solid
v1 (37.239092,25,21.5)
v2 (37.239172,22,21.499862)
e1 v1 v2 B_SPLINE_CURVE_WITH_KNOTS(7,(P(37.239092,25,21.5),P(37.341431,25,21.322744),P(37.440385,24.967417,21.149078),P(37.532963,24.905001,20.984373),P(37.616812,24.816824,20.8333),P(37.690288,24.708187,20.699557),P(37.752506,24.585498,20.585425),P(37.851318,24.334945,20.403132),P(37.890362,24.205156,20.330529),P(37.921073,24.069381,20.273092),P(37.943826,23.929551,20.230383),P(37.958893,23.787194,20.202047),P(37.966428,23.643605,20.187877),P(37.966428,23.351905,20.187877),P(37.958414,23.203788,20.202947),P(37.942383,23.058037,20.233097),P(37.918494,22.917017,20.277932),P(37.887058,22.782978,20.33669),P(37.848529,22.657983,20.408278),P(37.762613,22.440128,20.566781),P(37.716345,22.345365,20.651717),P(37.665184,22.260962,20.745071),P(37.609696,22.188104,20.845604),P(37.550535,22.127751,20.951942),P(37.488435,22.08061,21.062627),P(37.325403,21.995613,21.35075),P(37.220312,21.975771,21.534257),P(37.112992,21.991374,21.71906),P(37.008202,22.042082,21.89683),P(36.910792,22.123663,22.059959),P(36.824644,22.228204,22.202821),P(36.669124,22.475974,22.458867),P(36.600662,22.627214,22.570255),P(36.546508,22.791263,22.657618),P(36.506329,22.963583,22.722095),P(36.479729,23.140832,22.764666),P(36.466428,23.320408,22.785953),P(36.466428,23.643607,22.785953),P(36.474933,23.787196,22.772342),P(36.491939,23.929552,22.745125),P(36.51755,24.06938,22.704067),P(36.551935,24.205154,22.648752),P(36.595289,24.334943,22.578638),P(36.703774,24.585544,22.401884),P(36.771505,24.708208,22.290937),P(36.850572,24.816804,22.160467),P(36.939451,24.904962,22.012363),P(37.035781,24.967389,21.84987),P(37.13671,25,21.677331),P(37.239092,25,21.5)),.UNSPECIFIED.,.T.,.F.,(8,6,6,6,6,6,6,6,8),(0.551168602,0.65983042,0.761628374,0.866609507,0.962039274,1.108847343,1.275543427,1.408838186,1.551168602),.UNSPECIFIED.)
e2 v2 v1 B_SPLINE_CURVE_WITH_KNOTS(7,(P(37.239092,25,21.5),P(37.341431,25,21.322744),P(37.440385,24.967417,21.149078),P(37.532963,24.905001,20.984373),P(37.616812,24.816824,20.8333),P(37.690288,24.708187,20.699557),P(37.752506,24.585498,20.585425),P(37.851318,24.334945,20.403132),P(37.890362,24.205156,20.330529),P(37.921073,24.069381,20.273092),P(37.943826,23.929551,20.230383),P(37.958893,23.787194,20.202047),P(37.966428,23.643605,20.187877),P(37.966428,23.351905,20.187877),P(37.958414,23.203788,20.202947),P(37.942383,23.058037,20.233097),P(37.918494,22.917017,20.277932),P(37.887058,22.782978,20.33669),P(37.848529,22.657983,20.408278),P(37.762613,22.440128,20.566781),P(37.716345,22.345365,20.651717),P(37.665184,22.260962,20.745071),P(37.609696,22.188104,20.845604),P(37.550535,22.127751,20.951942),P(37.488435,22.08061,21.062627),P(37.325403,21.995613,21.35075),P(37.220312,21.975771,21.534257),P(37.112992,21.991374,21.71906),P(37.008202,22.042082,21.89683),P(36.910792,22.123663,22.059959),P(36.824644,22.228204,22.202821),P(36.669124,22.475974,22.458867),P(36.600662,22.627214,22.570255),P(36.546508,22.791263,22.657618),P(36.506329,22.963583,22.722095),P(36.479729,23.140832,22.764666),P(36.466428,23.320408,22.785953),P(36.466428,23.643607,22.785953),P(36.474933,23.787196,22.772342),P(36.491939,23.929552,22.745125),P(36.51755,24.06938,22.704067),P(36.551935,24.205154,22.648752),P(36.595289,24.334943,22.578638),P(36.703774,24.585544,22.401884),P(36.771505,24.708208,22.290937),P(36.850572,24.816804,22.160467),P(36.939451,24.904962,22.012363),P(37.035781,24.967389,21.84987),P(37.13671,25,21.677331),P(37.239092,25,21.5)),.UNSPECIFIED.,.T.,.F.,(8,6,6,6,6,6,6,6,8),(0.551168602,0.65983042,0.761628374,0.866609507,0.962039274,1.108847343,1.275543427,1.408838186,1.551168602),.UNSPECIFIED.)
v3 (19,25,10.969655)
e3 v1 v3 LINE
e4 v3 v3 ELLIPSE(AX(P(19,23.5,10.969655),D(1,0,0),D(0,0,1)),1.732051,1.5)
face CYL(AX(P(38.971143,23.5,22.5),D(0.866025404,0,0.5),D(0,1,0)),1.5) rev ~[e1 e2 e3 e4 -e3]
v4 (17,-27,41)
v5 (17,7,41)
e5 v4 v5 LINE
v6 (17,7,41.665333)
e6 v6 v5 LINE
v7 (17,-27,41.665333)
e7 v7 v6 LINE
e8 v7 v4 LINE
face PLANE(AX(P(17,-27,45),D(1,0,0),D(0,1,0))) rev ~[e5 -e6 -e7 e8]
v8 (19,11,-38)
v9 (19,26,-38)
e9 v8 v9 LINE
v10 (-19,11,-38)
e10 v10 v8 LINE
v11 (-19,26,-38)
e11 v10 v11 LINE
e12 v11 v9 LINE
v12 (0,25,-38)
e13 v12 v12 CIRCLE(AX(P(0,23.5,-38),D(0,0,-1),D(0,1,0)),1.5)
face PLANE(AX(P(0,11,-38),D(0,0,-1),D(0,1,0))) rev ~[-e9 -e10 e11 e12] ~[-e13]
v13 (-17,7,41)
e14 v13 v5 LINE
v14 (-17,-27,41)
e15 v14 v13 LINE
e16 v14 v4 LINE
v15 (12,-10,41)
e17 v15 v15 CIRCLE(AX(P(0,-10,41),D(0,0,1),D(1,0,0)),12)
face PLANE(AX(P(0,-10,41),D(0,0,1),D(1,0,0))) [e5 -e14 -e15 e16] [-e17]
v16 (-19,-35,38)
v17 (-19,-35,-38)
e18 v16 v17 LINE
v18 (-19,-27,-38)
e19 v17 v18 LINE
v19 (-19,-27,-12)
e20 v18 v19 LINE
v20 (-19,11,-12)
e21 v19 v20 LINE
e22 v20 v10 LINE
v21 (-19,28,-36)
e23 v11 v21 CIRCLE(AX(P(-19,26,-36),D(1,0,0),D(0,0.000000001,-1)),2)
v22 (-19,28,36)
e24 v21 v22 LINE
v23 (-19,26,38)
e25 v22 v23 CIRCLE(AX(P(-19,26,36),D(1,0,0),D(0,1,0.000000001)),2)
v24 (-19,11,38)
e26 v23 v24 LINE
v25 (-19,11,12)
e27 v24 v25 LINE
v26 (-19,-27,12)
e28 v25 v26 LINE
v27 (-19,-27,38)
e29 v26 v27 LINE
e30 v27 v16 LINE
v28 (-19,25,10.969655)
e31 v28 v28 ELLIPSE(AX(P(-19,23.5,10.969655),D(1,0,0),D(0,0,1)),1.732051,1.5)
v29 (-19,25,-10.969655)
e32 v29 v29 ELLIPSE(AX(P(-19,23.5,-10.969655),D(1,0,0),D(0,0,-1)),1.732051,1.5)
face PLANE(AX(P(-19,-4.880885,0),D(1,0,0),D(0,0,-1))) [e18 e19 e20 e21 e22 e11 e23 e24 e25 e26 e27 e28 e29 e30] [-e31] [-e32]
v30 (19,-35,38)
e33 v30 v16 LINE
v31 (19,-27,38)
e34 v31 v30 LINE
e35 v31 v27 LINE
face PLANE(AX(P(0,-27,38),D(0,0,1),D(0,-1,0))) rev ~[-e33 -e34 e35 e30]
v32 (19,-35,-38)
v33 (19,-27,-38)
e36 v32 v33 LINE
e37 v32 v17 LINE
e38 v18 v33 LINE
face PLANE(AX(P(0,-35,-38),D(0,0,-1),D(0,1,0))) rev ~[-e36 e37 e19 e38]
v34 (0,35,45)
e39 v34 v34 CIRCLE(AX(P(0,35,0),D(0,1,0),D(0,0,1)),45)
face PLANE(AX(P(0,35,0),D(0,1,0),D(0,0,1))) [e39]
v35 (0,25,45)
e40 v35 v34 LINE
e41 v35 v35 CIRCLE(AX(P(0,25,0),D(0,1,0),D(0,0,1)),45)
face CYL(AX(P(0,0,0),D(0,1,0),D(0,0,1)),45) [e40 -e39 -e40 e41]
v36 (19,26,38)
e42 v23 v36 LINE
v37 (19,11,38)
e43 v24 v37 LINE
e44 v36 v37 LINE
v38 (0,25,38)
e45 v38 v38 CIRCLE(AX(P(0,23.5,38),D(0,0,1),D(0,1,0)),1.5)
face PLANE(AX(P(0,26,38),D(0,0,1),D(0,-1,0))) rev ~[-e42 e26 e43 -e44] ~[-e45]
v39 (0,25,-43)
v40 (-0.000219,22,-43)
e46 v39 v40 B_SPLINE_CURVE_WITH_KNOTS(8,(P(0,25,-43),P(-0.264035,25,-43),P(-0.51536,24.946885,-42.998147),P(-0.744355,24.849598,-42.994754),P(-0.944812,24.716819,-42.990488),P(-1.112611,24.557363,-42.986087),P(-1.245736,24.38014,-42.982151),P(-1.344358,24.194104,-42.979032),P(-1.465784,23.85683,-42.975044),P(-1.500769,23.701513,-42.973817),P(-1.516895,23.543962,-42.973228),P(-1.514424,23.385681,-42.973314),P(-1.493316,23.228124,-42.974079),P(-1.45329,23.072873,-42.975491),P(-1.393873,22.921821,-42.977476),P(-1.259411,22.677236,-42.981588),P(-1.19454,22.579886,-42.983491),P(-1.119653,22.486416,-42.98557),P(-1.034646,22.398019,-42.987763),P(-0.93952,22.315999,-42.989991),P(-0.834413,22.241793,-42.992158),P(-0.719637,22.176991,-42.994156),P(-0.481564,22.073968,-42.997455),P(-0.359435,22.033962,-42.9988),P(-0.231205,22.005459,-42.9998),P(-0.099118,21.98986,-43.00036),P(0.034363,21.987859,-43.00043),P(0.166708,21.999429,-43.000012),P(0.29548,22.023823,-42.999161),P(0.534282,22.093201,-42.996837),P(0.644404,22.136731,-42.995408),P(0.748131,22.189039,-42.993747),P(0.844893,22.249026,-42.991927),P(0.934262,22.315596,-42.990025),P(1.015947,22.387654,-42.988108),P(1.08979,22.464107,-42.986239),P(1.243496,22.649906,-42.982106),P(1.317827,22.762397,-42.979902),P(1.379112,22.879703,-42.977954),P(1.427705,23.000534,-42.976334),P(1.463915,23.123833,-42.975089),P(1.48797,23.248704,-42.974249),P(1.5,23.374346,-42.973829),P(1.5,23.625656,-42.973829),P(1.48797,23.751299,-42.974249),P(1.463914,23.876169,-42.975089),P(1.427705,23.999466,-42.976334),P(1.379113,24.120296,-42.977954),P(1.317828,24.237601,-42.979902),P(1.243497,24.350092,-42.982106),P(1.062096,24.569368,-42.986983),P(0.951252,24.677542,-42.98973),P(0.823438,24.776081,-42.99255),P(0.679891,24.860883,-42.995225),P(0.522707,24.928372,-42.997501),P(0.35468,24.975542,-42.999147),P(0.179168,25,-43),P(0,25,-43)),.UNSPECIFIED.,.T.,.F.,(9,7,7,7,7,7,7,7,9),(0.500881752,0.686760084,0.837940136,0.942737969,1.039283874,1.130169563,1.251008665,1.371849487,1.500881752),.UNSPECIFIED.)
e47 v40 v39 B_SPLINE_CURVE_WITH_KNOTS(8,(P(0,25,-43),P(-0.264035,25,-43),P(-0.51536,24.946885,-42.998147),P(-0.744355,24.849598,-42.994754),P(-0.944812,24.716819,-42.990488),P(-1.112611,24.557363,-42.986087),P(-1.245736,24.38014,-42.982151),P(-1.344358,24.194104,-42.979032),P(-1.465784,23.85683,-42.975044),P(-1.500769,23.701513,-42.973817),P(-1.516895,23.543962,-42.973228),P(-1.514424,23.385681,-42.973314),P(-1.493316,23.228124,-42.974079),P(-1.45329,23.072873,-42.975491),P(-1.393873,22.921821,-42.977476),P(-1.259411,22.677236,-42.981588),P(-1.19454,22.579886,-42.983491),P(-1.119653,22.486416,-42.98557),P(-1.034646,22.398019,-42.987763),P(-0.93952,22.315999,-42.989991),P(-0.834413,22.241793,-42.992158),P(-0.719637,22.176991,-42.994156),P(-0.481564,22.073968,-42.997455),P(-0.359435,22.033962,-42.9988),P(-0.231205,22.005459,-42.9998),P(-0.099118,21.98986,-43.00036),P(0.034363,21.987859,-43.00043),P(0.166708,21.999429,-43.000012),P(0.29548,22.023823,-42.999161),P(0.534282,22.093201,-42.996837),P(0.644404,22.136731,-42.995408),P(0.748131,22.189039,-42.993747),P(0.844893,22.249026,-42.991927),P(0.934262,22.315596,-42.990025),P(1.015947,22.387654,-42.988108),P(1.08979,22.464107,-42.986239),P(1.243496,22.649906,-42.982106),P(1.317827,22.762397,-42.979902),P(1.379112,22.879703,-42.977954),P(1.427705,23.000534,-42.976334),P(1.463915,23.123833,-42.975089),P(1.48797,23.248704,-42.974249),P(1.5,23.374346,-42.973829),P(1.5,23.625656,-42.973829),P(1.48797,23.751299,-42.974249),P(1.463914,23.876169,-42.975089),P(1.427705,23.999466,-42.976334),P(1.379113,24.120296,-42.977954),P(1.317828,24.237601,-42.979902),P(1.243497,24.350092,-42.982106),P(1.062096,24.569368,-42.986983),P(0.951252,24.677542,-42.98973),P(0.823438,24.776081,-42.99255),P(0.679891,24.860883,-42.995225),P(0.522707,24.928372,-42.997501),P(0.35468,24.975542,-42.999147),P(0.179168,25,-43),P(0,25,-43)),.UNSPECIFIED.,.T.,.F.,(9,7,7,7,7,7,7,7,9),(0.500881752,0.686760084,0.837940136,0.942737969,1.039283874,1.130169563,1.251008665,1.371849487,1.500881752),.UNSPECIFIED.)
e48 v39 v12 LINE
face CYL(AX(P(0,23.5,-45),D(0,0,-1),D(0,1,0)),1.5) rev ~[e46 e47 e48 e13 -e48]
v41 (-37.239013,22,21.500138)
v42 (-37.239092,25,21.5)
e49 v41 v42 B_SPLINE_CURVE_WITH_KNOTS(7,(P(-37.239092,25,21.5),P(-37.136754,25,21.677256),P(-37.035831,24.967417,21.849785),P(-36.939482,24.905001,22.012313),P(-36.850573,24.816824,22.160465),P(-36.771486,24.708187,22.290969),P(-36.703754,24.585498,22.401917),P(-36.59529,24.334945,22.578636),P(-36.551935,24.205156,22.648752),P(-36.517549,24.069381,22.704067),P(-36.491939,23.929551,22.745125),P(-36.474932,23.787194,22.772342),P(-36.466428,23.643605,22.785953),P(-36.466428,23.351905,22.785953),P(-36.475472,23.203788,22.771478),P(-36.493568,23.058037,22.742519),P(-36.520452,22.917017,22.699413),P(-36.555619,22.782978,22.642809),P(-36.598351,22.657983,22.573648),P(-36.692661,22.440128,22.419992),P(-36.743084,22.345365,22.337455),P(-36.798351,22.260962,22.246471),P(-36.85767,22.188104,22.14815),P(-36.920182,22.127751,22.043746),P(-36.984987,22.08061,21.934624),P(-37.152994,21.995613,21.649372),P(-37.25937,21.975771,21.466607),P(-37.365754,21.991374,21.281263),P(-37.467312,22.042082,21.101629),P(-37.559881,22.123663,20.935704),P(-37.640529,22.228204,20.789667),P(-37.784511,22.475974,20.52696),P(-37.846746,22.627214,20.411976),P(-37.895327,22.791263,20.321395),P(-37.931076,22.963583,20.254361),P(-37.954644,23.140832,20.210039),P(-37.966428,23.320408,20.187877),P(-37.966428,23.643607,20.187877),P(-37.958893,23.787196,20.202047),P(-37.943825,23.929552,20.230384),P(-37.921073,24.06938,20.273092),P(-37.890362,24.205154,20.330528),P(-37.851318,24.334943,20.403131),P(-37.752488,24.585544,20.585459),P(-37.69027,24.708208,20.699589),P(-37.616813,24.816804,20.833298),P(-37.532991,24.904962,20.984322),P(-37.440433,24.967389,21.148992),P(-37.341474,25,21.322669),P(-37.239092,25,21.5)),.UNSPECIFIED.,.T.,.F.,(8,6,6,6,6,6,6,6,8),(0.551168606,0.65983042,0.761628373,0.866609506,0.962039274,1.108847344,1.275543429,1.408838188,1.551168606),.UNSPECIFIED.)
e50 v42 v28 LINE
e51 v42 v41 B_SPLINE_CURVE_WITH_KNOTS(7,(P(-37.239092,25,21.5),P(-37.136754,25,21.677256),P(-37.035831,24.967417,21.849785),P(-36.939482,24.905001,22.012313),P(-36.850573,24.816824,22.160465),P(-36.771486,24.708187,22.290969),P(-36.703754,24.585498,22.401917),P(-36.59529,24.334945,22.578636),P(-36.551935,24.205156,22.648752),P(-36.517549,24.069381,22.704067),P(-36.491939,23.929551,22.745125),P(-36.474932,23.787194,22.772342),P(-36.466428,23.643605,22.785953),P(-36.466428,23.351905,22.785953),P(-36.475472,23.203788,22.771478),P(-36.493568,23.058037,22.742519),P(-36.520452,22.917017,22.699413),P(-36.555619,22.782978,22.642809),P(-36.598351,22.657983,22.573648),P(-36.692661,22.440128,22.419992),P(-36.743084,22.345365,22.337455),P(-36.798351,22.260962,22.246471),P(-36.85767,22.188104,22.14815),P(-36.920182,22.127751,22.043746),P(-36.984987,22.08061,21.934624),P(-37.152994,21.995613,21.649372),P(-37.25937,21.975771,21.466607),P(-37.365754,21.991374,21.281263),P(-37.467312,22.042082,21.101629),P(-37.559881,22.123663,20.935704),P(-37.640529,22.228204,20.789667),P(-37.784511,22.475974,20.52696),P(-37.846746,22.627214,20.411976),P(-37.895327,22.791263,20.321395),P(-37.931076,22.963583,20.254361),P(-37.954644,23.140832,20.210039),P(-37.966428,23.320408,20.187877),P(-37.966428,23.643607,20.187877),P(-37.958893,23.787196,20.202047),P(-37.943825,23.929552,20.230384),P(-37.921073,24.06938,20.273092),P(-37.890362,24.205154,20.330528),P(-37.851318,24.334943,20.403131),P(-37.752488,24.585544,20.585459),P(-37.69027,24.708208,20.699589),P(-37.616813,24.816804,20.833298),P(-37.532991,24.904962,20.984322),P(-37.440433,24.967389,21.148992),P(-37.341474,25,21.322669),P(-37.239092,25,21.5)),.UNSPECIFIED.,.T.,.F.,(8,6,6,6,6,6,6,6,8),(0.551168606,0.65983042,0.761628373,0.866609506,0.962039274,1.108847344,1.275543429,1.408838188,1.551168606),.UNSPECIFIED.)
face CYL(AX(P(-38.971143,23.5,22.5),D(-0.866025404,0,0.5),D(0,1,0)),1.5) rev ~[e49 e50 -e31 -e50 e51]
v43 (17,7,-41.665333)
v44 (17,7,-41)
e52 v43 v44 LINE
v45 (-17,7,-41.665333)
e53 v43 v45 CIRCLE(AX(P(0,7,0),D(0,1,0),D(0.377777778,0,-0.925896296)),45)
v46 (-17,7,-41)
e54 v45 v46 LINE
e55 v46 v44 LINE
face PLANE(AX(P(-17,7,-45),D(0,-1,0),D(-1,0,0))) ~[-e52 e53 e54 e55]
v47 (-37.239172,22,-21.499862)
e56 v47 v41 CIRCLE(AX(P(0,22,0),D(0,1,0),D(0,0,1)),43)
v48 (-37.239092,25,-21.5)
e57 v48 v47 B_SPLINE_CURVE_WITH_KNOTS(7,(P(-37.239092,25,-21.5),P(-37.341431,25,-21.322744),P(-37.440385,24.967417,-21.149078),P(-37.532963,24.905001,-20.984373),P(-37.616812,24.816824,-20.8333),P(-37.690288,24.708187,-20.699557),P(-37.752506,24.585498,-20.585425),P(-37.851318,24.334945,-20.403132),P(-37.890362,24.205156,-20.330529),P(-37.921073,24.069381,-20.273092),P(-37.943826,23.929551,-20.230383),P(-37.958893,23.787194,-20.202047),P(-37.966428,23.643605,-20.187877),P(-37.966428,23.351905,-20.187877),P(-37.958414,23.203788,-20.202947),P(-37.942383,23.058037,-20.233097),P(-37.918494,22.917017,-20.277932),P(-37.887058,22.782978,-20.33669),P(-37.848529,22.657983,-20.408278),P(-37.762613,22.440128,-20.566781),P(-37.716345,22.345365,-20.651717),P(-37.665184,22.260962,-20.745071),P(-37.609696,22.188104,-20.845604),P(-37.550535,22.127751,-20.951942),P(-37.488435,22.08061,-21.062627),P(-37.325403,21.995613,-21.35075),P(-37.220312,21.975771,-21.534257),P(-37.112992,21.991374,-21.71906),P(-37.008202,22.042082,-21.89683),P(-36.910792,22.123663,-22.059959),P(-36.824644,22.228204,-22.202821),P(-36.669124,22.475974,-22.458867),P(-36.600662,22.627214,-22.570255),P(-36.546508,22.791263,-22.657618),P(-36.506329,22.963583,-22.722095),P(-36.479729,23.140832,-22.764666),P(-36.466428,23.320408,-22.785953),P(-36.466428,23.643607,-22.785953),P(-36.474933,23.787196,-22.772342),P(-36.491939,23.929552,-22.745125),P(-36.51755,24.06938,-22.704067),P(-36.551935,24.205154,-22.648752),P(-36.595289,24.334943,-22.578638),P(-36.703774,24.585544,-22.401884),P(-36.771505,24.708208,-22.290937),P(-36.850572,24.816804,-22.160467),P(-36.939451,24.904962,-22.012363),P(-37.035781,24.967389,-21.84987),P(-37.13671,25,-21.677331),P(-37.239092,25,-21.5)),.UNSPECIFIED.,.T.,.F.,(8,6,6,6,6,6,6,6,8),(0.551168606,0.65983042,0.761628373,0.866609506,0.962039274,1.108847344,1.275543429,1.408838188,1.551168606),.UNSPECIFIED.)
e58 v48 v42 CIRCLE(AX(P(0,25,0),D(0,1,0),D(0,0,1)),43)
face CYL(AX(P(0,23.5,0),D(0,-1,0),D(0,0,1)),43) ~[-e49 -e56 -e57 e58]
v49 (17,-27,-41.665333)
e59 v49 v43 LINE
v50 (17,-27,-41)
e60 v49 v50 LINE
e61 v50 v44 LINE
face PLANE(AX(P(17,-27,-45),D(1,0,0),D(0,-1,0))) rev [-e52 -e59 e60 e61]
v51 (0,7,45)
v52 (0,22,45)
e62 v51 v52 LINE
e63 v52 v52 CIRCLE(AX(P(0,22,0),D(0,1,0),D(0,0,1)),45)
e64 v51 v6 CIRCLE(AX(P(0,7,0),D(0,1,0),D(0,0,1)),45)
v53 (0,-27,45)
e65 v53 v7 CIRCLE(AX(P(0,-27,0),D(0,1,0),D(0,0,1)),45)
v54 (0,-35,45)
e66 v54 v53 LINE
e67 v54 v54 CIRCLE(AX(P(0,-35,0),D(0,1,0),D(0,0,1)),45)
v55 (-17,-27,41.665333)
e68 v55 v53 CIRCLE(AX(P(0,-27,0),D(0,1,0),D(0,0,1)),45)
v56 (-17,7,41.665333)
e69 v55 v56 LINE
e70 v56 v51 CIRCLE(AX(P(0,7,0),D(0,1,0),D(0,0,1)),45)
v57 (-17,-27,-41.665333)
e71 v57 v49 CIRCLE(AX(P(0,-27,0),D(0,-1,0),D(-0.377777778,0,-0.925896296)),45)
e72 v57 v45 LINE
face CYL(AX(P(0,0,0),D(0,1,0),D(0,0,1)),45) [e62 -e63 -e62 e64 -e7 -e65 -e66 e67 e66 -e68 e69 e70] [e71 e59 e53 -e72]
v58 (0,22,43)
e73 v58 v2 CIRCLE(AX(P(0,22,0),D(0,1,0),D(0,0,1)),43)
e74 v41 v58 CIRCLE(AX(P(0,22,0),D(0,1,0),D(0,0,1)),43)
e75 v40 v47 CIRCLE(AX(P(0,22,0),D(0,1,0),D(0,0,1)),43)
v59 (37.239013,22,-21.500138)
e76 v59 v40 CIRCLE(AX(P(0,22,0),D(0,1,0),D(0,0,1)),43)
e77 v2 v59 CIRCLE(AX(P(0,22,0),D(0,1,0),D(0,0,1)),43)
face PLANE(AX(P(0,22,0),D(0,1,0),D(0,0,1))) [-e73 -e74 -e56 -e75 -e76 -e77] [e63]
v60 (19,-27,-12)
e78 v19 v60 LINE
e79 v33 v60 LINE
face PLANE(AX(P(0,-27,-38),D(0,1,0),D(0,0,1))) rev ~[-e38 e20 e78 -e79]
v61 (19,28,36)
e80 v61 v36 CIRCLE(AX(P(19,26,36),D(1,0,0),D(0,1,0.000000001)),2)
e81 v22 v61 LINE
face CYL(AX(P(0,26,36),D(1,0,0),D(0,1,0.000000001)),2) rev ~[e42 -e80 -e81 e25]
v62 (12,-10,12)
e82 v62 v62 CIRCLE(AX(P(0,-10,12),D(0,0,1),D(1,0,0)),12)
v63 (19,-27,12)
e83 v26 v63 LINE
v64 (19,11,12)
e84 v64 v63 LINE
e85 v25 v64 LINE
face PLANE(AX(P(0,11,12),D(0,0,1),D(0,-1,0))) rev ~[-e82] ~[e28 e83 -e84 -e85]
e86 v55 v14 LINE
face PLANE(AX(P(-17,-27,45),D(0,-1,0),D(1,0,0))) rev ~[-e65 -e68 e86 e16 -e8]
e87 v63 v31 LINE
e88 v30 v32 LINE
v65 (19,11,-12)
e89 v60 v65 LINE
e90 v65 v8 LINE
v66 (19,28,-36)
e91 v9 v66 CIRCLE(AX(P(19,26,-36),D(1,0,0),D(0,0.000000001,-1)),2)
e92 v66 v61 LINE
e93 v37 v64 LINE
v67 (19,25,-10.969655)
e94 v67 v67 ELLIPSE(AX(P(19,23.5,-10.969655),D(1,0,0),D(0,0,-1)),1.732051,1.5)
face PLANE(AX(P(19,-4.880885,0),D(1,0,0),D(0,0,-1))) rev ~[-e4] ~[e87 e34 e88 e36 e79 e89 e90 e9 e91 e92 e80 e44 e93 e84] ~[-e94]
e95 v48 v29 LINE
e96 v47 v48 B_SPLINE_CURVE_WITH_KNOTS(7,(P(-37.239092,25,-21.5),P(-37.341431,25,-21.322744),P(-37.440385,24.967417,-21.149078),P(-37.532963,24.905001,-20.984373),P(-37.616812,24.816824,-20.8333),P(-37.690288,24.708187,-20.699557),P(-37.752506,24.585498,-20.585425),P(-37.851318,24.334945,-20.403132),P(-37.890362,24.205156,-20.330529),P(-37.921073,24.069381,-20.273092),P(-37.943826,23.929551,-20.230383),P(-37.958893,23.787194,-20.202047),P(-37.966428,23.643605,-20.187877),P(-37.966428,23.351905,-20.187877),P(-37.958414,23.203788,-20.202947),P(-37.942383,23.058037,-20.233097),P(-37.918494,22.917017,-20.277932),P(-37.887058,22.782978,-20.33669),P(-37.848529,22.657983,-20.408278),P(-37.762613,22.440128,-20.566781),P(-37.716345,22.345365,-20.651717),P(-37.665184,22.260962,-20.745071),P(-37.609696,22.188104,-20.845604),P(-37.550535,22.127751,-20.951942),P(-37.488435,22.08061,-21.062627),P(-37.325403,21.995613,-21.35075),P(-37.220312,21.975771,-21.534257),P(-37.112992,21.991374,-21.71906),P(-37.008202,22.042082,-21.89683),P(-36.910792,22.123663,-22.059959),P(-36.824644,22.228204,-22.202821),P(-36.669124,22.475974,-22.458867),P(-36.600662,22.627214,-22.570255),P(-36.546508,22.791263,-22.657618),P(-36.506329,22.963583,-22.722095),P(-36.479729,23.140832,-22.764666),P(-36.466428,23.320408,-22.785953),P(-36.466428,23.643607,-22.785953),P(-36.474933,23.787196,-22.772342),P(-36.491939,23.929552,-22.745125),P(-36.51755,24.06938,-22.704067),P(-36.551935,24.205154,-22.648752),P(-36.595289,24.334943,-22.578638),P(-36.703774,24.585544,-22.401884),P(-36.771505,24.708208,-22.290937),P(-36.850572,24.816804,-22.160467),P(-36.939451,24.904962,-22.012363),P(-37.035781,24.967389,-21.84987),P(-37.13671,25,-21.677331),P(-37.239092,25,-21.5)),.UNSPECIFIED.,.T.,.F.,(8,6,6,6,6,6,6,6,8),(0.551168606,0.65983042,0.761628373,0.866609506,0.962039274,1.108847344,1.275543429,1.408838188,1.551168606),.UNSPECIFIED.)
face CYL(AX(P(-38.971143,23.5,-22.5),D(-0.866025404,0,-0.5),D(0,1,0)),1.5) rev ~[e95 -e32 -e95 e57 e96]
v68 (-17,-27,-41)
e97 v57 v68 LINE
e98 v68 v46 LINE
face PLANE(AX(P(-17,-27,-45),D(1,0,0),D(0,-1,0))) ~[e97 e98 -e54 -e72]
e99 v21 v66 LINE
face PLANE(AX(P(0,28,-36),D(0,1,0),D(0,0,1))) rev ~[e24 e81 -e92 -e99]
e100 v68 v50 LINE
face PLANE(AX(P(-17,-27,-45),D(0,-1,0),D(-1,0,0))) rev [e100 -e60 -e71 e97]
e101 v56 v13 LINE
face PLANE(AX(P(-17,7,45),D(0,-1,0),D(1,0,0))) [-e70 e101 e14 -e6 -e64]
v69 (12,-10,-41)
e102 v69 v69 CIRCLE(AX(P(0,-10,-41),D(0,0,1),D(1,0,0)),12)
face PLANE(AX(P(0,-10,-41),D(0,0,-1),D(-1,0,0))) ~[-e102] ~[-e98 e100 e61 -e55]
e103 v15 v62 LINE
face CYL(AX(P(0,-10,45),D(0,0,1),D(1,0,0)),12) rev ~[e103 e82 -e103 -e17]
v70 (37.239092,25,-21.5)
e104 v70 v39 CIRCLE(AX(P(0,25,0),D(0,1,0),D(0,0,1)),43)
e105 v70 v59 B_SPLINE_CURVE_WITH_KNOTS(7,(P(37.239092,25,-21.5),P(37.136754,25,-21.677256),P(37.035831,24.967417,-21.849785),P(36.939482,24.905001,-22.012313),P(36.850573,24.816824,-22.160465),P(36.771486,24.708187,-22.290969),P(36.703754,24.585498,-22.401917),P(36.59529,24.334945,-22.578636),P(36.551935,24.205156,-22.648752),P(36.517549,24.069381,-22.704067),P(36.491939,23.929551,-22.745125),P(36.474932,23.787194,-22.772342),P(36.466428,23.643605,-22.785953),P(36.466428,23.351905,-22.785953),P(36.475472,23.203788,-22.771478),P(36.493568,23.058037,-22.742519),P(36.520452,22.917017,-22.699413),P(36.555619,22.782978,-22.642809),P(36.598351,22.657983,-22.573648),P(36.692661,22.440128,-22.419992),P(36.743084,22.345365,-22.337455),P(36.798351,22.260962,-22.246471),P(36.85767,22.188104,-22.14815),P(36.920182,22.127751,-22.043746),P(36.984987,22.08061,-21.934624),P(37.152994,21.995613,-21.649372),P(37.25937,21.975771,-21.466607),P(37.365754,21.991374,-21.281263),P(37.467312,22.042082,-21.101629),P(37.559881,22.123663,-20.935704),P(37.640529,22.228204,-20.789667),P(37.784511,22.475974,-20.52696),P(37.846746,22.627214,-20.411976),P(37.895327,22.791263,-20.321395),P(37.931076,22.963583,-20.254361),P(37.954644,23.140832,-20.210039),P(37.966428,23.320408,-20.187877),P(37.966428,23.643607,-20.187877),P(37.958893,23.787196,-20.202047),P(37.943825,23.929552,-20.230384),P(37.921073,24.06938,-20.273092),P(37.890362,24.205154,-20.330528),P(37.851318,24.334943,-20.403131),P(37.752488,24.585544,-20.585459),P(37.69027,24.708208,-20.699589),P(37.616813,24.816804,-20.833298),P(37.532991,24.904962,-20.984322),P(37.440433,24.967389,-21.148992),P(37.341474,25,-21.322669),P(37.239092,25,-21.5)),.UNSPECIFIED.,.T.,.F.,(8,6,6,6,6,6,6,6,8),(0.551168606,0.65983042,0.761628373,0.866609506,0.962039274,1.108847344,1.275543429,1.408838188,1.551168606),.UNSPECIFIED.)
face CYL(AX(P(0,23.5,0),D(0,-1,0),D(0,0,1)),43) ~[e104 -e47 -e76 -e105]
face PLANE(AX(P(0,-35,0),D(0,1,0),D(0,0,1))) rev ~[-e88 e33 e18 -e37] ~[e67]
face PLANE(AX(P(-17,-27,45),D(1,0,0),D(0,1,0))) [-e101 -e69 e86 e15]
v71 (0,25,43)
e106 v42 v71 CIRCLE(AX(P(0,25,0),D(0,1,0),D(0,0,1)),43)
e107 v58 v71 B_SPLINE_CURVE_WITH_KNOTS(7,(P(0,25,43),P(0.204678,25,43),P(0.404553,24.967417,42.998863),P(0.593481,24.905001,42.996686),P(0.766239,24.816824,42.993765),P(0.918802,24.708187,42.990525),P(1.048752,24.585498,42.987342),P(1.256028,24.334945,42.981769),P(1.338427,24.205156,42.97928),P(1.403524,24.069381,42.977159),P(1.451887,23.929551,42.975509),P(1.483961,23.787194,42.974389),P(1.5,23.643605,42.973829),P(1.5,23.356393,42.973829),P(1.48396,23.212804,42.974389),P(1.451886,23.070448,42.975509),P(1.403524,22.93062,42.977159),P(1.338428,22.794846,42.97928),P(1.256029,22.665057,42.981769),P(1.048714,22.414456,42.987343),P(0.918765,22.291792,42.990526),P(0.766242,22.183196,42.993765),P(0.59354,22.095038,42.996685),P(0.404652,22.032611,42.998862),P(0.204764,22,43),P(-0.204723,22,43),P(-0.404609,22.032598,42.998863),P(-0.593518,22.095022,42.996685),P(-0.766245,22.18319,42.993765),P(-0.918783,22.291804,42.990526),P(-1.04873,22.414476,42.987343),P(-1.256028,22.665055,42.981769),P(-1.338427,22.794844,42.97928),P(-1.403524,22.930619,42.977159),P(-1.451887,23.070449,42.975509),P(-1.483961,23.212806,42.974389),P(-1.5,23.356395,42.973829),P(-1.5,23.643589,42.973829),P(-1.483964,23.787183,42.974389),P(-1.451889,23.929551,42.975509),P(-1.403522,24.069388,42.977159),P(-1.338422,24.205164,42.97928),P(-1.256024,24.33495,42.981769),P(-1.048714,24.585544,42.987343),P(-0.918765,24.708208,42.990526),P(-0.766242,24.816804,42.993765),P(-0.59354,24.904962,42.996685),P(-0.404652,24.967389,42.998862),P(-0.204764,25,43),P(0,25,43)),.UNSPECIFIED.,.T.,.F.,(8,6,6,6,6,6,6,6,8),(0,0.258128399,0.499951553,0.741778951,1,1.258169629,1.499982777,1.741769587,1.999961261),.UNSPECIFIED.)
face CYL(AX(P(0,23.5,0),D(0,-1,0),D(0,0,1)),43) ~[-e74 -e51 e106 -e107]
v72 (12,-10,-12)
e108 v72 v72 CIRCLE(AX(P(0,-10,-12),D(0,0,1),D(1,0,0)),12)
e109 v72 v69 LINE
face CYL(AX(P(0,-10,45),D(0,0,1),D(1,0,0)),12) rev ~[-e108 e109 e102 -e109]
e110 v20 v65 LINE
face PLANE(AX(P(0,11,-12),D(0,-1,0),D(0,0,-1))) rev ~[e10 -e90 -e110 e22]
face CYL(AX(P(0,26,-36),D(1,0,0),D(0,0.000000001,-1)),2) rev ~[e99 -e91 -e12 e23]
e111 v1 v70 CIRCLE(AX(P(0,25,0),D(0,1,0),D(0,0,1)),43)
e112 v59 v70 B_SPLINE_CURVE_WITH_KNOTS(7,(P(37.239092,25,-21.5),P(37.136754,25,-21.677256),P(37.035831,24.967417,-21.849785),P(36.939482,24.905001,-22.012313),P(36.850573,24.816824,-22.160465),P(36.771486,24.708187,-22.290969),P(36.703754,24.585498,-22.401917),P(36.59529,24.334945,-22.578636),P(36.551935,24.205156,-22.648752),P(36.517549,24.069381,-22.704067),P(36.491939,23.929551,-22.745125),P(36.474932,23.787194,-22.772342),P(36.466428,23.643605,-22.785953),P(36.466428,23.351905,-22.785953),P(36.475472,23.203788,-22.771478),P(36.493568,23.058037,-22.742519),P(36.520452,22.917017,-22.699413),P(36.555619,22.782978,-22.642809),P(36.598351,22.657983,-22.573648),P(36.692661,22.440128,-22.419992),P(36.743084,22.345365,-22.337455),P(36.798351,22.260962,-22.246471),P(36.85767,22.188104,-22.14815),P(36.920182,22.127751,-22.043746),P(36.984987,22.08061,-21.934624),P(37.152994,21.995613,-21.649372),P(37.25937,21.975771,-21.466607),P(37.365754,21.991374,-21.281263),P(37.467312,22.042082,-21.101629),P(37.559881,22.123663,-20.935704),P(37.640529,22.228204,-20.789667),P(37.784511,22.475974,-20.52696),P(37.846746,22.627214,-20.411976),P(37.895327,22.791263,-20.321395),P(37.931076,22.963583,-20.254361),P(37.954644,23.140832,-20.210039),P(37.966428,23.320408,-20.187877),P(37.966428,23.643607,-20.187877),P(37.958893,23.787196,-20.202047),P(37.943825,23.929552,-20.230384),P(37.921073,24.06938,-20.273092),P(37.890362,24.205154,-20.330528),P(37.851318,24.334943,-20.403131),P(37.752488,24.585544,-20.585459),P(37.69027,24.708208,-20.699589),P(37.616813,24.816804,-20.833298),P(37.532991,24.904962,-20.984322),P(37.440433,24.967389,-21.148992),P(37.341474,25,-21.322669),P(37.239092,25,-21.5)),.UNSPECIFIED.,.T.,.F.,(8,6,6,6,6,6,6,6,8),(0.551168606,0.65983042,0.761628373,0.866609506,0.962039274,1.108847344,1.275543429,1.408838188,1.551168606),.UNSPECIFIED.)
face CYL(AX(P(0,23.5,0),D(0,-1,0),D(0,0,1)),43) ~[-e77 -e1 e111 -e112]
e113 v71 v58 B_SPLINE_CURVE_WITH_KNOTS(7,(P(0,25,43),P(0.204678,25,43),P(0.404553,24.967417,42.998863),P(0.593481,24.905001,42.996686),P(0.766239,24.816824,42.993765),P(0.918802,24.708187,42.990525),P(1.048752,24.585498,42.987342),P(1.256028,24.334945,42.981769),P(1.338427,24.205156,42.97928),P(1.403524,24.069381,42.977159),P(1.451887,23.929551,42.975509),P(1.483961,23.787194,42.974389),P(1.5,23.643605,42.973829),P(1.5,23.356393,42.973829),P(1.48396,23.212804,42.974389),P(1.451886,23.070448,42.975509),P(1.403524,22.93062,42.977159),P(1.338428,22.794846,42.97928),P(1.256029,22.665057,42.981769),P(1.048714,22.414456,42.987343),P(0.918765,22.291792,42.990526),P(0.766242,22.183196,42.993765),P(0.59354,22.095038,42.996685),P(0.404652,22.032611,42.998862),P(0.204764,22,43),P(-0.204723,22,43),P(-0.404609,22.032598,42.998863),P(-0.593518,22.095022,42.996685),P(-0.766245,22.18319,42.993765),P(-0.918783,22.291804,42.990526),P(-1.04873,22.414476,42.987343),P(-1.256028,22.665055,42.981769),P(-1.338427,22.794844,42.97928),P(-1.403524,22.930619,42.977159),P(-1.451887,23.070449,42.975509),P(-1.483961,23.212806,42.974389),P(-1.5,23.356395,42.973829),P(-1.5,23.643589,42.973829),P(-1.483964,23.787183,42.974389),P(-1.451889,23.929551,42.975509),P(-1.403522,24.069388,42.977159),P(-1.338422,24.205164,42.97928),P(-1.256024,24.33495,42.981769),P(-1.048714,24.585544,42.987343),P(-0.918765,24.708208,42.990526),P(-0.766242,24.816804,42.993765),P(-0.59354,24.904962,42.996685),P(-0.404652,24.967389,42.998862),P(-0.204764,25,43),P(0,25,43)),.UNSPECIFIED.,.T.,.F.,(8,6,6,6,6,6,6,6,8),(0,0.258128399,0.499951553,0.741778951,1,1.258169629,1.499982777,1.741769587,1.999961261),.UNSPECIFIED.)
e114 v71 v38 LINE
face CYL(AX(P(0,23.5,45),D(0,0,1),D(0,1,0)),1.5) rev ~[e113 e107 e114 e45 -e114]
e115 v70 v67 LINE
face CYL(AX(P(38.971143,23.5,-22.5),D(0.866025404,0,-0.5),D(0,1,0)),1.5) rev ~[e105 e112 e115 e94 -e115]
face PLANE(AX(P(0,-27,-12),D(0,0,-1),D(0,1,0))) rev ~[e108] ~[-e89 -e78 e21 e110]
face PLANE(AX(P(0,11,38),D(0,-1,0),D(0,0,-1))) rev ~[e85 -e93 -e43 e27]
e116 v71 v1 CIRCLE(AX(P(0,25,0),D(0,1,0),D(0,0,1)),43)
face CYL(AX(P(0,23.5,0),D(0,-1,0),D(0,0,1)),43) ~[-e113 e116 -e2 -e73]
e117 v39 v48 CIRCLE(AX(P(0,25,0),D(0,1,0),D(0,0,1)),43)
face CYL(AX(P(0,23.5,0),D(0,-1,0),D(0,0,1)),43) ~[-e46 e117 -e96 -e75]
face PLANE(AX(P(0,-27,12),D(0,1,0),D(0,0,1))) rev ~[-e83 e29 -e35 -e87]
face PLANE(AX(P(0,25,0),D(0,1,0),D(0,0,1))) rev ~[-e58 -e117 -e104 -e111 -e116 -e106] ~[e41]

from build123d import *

# Parameters (mm, degrees)
IZIM1_R                     = 45
Y_KSEKLIK_EKSTR_ZYON1_DEPTH = 35
IZIM2_W                     = 34
IZIM2_H                     = 34
KES_EKSTR_ZYON1_DEPTH       = 4
IZIM5_R                     = 12
KES_EKSTR_ZYON2_DEPTH       = 107.536378763
KES_EKSTR_ZYON3_DEPTH       = 19
IZIM8_R                     = 45
IZIM8_R_2                   = 43
KES_EKSTR_ZYON4_DEPTH       = 1.5
KES_EKSTR_ZYON5_REACH       = 108.536
IZIM9_R                     = 1.5
DAIRESEL_KAPLAMA1_COUNT     = 6


with BuildPart() as part:
    # Çizim1 → Yükseklik-Ekstrüzyon1 (new, symmetric)
    with BuildSketch(Plane(origin=(0, 0, 0), x_dir=(1, 0, 0), z_dir=(0, 1, 0))):
        with Locations(Location((0, 0, 0), (0, 0, 270))):
            Circle(IZIM1_R)
    extrude(amount=Y_KSEKLIK_EKSTR_ZYON1_DEPTH, both=True)

    # Çizim2 → Kes-Ekstrüzyon1 (cut)
    with BuildSketch(Plane.XY.offset(45)):
        with Locations((0, -10)):
            Rectangle(IZIM2_W, IZIM2_H)
    kes_ekstr_zyon1 = extrude(amount=-KES_EKSTR_ZYON1_DEPTH, mode=Mode.SUBTRACT)

    # Aynalama1: Kes-Ekstrüzyon1 across plane
    add(kes_ekstr_zyon1.mirror(Plane.XY), mode=Mode.SUBTRACT)

    # Çizim5 → Kes-Ekstrüzyon2 (cut, through all)
    with BuildSketch(Plane.XY.offset(45)):
        with Locations((0, -10)):
            Circle(IZIM5_R)
    extrude(amount=-KES_EKSTR_ZYON2_DEPTH, mode=Mode.SUBTRACT)

    # Çizim7 → Kes-Ekstrüzyon3 (cut, symmetric)
    with BuildSketch(Plane(origin=(0, 0, 0), x_dir=(0, 0, -1), z_dir=(1, 0, 0))):
        with BuildLine():
            Line((38, -35), (38, -27))
            Line((38, -27), (12, -27))
            Line((12, -27), (12, 11))
            Line((12, 11), (38, 11))
            Line((38, 11), (38, 26))
            ThreePointArc((38, 26), (37.414213562, 27.414213562), (36, 28))
            Line((36, 28), (-36, 28))
            ThreePointArc((-36, 28), (-37.414213562, 27.414213562), (-38, 26))
            Line((-38, 26), (-38, 11))
            Line((-38, 11), (-11.999999881, 11))
            Line((-11.999999881, 11), (-11.999999881, -27))
            Line((-11.999999881, -27), (-38, -27))
            Line((-38, -27), (-38, -35))
            Line((-38, -35), (38, -35))
        make_face()
    extrude(amount=KES_EKSTR_ZYON3_DEPTH, both=True, mode=Mode.SUBTRACT)

    # Çizim8 → Kes-Ekstrüzyon4 (cut, symmetric)
    with BuildSketch(Plane(origin=(0, 23.5, 0), x_dir=(1, 0, 0), z_dir=(0, 1, 0))):
        with Locations(Location((0, 0, 0), (0, 0, 270))):
            Circle(IZIM8_R)
        with Locations(Location((0, 0, 0), (0, 0, 270))):
            Circle(IZIM8_R_2, mode=Mode.SUBTRACT)
    extrude(amount=KES_EKSTR_ZYON4_DEPTH, both=True, mode=Mode.SUBTRACT)

    # Çizim9 → Kes-Ekstrüzyon5 (cut, up to next)
    with BuildSketch(Plane.XY.offset(45), mode=Mode.PRIVATE) as kes_ekstr_zyon5_sk1:
        with Locations(Location((0, 23.5, 0), (0, 0, 90))):
            Circle(IZIM9_R)
    kes_ekstr_zyon5_tool1 = extrude(kes_ekstr_zyon5_sk1.sketch, amount=-KES_EKSTR_ZYON5_REACH, mode=Mode.PRIVATE) & part.part
    kes_ekstr_zyon5 = kes_ekstr_zyon5_tool1.solids().sort_by_distance((0, 23.5, 45))[0]
    add(kes_ekstr_zyon5, mode=Mode.SUBTRACT)

    # Dairesel Kaplama1: Kes-Ekstrüzyon5; each copy of Kes-Ekstrüzyon5 runs up to whatever stops it at its own place
    dairesel_kaplama1_before = part.part  # the part as the pattern finds it: every copy runs up to it
    dairesel_kaplama1_kes_ekstr_zyon5_long = extrude(kes_ekstr_zyon5_sk1.sketch, amount=-KES_EKSTR_ZYON5_REACH, mode=Mode.PRIVATE)
    dairesel_kaplama1_kes_ekstr_zyon5_tool = dairesel_kaplama1_kes_ekstr_zyon5_long.rotate(Axis((0, 25, 0), (0, 1, 0)), 1 * 360 / DAIRESEL_KAPLAMA1_COUNT) & dairesel_kaplama1_before
    add(dairesel_kaplama1_kes_ekstr_zyon5_tool.solids().sort_by_distance((38.971143, 23.5, 22.5))[0], mode=Mode.SUBTRACT)
    dairesel_kaplama1_kes_ekstr_zyon5_tool = dairesel_kaplama1_kes_ekstr_zyon5_long.rotate(Axis((0, 25, 0), (0, 1, 0)), 2 * 360 / DAIRESEL_KAPLAMA1_COUNT) & dairesel_kaplama1_before
    add(dairesel_kaplama1_kes_ekstr_zyon5_tool.solids().sort_by_distance((38.971143, 23.5, -22.5))[0], mode=Mode.SUBTRACT)
    dairesel_kaplama1_kes_ekstr_zyon5_tool = dairesel_kaplama1_kes_ekstr_zyon5_long.rotate(Axis((0, 25, 0), (0, 1, 0)), 3 * 360 / DAIRESEL_KAPLAMA1_COUNT) & dairesel_kaplama1_before
    add(dairesel_kaplama1_kes_ekstr_zyon5_tool.solids().sort_by_distance((0, 23.5, -45))[0], mode=Mode.SUBTRACT)
    dairesel_kaplama1_kes_ekstr_zyon5_tool = dairesel_kaplama1_kes_ekstr_zyon5_long.rotate(Axis((0, 25, 0), (0, 1, 0)), 4 * 360 / DAIRESEL_KAPLAMA1_COUNT) & dairesel_kaplama1_before
    add(dairesel_kaplama1_kes_ekstr_zyon5_tool.solids().sort_by_distance((-38.971143, 23.5, -22.5))[0], mode=Mode.SUBTRACT)
    dairesel_kaplama1_kes_ekstr_zyon5_tool = dairesel_kaplama1_kes_ekstr_zyon5_long.rotate(Axis((0, 25, 0), (0, 1, 0)), 5 * 360 / DAIRESEL_KAPLAMA1_COUNT) & dairesel_kaplama1_before
    add(dairesel_kaplama1_kes_ekstr_zyon5_tool.solids().sort_by_distance((-38.971143, 23.5, 22.5))[0], mode=Mode.SUBTRACT)


solid = part.part
